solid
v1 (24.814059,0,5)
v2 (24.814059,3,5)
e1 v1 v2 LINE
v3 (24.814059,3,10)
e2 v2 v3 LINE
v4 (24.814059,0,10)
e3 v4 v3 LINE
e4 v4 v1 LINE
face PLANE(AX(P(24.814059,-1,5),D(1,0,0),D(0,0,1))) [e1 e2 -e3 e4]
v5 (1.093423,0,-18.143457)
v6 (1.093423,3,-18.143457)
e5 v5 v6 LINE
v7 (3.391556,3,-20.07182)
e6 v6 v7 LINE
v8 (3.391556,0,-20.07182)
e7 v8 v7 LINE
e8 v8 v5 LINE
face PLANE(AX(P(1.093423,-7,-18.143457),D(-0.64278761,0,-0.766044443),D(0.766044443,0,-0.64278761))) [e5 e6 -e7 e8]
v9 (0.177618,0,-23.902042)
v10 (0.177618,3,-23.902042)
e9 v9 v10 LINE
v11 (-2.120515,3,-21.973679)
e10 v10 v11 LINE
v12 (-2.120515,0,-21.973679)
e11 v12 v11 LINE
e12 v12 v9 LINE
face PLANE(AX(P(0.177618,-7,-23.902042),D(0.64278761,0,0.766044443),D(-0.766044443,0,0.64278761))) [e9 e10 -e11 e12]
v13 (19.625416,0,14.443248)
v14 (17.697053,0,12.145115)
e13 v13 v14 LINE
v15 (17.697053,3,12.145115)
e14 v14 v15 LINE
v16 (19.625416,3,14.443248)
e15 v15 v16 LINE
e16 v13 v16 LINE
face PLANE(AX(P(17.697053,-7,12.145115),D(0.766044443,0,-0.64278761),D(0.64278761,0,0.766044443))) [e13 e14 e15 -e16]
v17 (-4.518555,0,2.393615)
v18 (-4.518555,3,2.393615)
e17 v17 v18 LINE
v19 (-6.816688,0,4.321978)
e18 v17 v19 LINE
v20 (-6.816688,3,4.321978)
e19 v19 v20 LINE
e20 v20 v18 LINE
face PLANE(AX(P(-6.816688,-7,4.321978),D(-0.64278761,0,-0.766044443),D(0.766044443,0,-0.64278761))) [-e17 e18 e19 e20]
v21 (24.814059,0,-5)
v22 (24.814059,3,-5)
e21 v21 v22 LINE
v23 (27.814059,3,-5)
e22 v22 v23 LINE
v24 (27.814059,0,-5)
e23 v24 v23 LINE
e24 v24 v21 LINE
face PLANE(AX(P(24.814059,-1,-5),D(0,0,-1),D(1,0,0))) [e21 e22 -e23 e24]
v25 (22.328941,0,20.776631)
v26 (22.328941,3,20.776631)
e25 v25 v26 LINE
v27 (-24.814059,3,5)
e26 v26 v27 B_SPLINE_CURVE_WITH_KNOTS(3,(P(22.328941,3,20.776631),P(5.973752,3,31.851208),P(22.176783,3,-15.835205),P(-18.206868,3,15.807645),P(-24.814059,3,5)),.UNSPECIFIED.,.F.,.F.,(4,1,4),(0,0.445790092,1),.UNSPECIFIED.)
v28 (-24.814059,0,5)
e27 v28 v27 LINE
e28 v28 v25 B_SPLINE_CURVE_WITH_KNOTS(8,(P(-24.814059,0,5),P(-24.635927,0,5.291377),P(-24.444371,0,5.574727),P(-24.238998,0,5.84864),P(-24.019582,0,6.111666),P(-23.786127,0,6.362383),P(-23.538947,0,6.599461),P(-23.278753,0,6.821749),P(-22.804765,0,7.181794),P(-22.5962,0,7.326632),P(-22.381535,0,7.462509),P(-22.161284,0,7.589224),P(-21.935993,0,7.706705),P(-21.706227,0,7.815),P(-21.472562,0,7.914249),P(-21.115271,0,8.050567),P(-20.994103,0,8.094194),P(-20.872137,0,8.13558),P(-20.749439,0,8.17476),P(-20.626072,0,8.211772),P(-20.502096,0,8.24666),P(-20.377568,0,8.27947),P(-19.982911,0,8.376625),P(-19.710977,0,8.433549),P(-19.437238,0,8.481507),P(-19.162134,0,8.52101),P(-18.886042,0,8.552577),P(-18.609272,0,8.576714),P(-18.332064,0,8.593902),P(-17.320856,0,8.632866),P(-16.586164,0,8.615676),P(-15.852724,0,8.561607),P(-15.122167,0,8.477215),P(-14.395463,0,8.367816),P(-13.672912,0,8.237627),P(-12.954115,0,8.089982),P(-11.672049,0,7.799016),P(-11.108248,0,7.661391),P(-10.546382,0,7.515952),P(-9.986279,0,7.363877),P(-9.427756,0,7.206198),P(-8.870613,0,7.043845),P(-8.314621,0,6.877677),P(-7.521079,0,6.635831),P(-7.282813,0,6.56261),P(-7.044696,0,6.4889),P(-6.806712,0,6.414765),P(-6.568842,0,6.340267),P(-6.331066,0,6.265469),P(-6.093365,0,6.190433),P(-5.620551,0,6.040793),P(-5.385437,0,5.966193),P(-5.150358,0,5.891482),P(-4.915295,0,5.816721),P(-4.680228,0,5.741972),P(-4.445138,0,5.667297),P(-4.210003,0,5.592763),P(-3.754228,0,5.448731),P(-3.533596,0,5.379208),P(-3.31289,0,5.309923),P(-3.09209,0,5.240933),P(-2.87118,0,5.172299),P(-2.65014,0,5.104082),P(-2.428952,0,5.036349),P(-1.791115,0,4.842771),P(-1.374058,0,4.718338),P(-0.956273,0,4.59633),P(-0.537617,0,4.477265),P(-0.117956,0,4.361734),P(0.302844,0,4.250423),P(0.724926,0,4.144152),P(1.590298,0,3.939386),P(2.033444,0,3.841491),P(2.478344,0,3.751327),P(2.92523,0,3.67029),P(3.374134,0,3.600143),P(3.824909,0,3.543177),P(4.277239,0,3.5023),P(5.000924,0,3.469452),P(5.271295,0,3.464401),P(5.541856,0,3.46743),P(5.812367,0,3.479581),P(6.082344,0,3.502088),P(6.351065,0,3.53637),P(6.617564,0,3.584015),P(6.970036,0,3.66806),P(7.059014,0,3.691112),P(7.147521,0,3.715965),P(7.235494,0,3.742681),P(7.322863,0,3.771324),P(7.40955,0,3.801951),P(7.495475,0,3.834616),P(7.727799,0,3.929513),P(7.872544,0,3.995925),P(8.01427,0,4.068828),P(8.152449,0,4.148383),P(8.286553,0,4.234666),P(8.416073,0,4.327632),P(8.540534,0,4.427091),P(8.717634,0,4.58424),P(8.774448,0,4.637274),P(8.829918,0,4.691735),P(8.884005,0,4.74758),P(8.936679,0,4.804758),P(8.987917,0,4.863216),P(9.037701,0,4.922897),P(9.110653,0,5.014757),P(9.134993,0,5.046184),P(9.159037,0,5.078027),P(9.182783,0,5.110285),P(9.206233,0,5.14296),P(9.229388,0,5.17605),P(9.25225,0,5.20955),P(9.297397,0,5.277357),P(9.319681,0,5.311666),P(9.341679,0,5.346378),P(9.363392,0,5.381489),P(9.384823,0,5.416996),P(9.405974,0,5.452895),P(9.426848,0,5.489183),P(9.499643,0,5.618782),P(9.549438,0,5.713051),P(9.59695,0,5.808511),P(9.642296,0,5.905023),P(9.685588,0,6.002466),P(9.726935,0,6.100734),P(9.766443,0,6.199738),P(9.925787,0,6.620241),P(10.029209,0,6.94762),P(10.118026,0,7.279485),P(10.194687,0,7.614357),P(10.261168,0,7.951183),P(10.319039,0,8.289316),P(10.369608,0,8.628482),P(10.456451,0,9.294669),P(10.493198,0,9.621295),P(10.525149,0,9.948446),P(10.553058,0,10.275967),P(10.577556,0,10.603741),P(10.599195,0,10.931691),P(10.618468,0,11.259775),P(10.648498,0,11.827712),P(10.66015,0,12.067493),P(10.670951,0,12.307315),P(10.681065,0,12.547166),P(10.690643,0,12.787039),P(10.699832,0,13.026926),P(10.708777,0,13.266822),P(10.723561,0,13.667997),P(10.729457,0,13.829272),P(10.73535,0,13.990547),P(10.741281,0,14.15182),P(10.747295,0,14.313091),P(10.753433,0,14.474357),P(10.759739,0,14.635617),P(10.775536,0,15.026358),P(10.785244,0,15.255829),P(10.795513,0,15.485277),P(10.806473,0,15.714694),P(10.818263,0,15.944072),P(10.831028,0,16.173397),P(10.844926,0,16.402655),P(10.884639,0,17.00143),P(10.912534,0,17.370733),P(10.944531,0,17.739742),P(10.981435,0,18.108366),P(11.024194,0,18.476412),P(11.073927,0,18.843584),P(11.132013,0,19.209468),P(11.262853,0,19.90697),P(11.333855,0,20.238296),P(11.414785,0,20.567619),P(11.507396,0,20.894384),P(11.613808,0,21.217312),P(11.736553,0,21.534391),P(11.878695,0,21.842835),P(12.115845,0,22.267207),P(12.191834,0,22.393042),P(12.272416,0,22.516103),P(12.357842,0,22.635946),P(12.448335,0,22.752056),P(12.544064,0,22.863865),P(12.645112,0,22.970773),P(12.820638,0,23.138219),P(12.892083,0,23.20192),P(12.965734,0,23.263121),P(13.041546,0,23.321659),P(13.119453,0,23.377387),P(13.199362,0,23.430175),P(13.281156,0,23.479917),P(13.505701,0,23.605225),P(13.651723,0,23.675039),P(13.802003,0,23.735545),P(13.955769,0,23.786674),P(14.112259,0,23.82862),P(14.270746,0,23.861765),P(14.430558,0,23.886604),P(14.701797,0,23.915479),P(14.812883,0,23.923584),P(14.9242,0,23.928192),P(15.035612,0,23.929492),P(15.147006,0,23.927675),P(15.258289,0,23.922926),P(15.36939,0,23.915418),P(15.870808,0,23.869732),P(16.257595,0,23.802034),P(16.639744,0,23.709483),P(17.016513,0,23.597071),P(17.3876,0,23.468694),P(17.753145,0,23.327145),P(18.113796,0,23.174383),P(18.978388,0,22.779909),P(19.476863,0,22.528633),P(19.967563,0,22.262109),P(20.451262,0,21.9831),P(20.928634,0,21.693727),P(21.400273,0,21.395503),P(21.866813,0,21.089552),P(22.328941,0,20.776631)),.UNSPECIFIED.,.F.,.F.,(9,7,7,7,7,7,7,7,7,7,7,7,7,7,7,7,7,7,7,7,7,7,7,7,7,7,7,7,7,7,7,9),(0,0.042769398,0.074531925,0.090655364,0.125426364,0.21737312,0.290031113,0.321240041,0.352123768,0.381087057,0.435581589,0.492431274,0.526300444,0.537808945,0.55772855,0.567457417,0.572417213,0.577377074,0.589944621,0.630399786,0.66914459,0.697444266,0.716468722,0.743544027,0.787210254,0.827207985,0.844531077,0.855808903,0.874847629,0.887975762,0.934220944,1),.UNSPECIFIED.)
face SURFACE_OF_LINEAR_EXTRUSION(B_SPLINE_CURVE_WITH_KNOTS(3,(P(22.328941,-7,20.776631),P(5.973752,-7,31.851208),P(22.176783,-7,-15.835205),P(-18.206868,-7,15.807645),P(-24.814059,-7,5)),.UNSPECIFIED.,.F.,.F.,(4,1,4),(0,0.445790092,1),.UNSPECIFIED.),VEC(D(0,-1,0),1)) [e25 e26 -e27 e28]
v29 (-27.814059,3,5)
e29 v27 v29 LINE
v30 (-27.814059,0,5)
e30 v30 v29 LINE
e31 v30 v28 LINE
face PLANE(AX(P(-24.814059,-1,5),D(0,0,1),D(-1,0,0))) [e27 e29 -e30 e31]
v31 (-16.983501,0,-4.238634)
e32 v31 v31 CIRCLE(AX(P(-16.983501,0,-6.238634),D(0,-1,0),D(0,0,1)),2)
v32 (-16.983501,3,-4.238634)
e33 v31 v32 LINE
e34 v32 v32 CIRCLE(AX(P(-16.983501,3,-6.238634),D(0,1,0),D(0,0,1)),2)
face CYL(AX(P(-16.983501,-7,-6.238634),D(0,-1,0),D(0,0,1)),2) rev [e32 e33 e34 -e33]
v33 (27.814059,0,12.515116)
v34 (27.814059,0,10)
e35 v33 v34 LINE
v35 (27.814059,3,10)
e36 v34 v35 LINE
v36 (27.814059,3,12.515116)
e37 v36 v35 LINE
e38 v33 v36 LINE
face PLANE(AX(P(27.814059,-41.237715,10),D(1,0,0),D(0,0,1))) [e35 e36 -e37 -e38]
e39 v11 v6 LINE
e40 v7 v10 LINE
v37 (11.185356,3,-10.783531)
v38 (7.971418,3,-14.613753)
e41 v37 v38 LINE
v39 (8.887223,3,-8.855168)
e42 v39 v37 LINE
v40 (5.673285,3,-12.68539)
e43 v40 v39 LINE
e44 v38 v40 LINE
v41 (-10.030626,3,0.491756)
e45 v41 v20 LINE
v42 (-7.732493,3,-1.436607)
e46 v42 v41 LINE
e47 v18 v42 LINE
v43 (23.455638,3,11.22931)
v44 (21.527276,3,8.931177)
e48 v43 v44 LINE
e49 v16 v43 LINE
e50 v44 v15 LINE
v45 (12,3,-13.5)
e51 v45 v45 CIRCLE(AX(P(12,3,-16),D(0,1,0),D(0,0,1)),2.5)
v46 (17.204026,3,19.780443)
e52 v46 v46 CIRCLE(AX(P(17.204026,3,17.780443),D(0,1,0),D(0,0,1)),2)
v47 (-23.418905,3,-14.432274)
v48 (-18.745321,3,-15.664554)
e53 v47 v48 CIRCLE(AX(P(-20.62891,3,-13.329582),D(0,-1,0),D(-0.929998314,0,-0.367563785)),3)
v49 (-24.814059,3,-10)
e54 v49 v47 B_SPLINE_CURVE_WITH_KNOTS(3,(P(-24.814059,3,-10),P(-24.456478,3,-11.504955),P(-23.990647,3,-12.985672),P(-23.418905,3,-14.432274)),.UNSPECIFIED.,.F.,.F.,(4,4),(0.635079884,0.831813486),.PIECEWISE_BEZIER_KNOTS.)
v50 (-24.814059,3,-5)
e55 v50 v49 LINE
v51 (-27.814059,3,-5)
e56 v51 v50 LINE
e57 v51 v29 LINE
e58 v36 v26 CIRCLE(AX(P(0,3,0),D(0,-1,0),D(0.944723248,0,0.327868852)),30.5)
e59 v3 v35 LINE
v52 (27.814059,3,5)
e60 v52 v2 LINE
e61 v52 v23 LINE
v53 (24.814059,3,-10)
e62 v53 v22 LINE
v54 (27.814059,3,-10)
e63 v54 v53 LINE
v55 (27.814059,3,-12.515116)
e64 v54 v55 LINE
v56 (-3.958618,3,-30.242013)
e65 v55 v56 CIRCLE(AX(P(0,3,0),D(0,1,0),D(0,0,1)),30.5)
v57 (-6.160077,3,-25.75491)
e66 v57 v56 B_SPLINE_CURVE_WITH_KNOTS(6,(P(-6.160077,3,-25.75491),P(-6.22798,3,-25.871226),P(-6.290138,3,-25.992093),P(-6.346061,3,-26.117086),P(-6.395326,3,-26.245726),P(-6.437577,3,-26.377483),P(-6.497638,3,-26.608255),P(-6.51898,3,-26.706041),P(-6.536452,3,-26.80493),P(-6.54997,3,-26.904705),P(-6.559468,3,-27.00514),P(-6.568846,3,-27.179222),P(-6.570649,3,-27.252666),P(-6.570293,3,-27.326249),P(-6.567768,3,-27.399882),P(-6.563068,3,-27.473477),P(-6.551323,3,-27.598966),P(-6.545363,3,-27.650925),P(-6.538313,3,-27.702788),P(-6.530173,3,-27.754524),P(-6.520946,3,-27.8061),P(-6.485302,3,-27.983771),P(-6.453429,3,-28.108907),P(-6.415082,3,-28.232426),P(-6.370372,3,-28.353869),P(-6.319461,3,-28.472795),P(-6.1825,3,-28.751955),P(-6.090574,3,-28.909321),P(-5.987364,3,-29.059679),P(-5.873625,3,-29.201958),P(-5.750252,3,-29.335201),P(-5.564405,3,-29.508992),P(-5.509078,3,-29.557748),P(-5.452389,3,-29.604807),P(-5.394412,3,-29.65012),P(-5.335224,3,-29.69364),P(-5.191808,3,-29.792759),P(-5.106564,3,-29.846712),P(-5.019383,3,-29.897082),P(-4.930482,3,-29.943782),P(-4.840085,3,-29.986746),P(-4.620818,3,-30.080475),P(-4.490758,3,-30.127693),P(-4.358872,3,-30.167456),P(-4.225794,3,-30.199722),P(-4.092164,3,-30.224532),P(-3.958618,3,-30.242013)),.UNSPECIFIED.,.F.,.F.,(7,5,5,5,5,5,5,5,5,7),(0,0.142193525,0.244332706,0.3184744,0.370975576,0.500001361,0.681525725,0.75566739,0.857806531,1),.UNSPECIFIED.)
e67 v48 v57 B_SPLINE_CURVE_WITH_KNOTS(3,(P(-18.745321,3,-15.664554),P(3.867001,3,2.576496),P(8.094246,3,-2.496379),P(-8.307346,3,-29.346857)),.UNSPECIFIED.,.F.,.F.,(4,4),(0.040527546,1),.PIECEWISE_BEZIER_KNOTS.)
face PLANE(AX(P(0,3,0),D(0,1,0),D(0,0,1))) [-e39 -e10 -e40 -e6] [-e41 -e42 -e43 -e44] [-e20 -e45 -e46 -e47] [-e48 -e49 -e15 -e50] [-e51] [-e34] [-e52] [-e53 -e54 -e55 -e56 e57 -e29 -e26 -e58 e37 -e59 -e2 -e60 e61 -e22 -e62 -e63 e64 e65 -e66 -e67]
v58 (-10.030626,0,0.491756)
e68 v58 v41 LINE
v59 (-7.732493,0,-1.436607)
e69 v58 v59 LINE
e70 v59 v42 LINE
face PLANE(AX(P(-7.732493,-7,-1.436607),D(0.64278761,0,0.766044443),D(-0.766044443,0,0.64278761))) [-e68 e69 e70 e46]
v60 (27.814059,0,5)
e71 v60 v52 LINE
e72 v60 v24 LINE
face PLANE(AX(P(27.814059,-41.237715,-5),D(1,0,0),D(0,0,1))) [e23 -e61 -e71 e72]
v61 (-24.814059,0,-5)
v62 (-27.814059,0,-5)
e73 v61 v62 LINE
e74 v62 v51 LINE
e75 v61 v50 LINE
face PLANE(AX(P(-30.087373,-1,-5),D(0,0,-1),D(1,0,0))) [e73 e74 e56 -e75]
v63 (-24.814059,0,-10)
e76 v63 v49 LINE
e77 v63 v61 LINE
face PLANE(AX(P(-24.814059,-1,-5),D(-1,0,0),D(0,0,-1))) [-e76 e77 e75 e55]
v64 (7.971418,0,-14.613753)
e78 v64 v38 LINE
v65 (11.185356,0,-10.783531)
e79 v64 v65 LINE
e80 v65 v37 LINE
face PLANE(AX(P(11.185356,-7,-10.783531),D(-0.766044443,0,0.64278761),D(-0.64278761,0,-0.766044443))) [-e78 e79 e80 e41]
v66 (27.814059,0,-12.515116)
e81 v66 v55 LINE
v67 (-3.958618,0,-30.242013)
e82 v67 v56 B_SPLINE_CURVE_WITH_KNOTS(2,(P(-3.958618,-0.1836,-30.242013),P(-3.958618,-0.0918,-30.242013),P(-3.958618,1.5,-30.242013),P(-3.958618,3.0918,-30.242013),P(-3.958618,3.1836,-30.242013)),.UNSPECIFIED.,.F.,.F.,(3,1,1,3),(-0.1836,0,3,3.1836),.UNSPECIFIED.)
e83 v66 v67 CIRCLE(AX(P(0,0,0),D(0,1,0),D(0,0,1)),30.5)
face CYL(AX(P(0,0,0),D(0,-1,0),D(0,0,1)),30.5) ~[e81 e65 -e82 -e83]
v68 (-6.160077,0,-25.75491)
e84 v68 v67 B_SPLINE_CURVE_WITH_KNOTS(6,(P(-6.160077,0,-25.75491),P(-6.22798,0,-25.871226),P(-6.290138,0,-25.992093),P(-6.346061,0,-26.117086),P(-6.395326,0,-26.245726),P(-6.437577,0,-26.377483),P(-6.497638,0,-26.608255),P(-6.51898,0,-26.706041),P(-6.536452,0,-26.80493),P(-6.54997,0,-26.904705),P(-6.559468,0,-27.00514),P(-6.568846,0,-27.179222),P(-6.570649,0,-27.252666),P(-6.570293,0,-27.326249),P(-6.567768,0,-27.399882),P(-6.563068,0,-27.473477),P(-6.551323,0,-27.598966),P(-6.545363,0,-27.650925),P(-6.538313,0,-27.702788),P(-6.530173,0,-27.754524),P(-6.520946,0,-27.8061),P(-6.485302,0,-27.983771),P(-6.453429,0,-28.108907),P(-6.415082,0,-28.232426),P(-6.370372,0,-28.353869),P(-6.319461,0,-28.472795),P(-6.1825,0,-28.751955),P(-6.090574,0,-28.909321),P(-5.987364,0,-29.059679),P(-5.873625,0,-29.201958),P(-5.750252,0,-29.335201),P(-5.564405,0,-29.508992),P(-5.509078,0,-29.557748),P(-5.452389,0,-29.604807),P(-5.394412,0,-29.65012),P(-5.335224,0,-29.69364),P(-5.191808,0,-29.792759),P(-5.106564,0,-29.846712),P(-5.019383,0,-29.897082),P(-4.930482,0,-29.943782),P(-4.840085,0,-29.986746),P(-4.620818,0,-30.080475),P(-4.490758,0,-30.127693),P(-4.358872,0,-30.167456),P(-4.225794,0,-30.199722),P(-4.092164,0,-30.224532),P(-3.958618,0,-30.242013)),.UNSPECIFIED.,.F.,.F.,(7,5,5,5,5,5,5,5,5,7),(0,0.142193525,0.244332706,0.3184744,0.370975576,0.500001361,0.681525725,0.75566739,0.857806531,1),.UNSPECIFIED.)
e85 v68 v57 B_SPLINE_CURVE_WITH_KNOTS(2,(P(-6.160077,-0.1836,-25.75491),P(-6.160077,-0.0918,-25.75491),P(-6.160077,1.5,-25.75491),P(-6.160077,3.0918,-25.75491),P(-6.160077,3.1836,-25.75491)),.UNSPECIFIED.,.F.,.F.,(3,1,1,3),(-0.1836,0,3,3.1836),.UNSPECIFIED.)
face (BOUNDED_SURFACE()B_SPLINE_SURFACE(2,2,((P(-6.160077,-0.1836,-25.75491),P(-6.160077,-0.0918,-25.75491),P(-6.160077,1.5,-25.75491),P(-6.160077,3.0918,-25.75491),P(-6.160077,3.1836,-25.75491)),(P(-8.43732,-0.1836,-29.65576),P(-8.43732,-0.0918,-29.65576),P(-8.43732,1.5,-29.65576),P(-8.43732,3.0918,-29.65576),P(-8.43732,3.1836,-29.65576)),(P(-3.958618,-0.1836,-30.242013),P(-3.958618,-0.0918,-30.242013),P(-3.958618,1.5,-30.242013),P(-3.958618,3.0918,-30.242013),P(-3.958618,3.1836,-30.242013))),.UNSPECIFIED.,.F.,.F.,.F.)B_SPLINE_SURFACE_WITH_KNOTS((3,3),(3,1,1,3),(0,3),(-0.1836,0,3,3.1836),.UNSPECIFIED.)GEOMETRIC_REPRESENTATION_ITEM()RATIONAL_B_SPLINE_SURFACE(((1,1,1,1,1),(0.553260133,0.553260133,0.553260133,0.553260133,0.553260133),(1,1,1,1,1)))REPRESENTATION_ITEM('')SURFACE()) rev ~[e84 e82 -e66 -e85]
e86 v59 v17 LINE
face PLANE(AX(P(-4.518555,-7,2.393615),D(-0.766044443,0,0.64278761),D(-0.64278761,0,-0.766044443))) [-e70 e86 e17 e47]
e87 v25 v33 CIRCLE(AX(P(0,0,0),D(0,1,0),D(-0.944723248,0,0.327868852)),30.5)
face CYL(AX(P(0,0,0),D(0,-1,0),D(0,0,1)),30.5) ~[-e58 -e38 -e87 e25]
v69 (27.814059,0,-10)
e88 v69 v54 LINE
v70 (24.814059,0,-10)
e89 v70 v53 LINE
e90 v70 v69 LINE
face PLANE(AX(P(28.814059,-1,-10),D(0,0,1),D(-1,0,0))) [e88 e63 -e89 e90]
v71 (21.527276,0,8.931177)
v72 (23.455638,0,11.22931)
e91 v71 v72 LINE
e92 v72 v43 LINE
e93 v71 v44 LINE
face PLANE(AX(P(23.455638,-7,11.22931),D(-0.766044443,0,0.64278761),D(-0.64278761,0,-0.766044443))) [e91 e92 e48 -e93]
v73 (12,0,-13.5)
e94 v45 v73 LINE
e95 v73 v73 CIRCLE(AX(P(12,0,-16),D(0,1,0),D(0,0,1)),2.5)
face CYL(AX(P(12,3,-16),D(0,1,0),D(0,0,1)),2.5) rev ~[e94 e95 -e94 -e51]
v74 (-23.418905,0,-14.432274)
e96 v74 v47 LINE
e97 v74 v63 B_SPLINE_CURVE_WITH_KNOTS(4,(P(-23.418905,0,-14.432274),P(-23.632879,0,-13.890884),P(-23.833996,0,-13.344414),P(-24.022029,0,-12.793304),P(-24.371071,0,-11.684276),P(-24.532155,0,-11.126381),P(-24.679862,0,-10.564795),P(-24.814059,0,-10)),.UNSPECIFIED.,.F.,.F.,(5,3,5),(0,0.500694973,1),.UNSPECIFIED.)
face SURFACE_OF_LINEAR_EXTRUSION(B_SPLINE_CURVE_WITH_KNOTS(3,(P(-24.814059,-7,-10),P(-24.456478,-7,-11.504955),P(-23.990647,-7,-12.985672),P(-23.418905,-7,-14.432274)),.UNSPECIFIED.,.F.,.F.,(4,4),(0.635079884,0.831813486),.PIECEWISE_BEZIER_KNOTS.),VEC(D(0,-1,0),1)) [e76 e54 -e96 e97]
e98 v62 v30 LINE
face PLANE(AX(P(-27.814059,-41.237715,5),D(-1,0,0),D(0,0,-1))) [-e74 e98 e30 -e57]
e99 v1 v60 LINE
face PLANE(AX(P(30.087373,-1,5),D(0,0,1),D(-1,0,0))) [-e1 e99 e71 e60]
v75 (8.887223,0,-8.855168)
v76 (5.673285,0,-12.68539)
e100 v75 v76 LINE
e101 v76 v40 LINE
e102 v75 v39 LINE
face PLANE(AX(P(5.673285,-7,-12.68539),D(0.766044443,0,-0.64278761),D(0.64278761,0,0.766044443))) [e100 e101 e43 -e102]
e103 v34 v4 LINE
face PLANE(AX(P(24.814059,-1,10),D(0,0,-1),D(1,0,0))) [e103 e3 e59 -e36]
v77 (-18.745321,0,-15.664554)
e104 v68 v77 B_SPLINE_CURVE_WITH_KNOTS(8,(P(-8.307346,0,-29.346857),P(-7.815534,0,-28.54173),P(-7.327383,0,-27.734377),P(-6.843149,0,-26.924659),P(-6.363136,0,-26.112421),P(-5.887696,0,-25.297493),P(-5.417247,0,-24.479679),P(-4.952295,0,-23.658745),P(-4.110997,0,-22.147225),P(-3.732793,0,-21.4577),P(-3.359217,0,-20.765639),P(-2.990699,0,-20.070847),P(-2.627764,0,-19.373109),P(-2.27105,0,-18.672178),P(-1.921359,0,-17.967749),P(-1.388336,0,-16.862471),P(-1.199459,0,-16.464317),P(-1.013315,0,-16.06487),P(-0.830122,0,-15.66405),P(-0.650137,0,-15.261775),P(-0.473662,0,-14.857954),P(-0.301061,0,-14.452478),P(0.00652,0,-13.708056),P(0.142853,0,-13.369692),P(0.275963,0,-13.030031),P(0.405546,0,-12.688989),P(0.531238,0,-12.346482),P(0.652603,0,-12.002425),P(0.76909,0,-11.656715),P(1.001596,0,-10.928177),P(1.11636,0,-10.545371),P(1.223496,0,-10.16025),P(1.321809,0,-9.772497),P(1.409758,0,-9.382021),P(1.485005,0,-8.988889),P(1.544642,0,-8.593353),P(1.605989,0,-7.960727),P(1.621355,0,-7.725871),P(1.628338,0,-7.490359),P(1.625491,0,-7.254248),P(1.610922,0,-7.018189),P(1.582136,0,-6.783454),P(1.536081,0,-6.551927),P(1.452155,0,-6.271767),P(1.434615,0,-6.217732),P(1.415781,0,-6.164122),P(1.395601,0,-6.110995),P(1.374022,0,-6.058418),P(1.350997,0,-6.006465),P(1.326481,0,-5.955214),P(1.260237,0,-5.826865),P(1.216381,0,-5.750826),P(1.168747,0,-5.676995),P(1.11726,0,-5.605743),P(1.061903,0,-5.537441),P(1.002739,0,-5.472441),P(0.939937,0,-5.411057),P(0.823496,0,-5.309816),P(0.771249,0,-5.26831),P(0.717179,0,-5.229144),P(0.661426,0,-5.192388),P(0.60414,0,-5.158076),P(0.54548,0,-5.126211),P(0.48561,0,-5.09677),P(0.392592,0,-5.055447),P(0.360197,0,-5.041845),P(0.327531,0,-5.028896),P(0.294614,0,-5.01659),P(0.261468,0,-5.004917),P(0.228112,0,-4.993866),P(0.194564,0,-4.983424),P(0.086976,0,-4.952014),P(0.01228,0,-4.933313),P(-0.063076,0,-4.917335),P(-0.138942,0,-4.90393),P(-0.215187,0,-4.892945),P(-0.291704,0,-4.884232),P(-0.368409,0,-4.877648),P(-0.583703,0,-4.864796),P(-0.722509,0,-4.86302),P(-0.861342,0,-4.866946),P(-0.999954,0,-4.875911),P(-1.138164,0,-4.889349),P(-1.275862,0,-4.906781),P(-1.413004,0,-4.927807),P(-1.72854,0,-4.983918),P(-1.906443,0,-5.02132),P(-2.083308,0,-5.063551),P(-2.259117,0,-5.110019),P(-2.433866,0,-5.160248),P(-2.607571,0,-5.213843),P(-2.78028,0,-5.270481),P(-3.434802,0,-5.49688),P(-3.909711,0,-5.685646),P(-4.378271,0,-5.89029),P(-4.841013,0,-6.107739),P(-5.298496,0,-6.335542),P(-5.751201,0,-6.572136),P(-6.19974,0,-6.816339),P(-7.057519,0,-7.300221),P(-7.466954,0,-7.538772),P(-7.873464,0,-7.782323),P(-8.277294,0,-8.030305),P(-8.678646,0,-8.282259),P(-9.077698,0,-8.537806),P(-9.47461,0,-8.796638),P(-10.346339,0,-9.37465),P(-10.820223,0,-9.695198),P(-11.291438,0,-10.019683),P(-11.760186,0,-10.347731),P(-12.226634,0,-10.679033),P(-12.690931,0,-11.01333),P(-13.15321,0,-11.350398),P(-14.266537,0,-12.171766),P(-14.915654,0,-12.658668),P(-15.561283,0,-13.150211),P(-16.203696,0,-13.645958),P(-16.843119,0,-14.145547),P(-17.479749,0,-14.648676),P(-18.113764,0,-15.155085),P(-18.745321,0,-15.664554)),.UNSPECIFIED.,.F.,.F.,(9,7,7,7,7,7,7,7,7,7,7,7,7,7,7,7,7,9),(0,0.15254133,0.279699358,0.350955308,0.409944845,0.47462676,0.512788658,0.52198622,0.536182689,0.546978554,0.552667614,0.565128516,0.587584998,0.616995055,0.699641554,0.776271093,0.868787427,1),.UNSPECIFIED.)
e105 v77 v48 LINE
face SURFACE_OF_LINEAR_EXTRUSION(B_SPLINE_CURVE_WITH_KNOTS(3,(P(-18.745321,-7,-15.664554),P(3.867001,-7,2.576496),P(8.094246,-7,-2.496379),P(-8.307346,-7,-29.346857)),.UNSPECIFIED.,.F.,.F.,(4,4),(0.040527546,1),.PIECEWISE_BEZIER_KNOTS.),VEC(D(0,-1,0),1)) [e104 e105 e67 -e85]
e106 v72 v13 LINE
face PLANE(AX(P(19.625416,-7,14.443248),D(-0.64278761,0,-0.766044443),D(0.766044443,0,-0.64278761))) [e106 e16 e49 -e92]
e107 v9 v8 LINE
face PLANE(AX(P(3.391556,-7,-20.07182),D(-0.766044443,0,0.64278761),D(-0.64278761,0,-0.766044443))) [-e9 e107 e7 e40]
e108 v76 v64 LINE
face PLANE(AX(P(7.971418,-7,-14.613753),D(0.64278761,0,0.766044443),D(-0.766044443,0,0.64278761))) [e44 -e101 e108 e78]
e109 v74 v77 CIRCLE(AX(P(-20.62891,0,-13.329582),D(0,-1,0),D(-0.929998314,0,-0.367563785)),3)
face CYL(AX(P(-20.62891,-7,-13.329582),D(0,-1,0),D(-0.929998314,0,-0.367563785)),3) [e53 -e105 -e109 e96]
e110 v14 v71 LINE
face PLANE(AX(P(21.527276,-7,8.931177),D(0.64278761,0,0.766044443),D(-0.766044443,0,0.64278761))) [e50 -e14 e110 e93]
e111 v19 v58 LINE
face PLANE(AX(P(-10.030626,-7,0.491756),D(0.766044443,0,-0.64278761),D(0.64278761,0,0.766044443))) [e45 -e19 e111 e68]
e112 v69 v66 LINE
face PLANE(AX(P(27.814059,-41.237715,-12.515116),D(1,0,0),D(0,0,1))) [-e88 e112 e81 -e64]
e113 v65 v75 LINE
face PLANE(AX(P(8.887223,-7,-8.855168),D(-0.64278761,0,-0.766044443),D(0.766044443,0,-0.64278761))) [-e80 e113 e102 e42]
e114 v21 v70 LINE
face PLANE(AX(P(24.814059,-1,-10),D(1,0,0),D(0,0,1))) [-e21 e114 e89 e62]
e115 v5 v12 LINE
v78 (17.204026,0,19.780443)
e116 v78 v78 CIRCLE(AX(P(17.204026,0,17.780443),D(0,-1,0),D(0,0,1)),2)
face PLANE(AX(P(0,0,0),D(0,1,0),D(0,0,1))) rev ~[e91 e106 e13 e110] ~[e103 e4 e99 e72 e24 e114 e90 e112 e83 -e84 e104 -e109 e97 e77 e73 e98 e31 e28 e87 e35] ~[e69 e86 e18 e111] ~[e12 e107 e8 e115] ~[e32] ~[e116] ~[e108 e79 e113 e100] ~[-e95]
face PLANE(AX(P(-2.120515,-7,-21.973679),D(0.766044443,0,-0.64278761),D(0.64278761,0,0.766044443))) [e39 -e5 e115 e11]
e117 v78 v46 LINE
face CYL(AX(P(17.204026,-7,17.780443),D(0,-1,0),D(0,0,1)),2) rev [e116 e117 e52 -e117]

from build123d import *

# Parameters (mm, degrees)
CROQUIS1_R                 = 30.5
SALIENTE_EXTRUIR1_DEPTH    = 3
CORTAR_EXTRUIR3_START      = -4
CORTAR_EXTRUIR3_DEPTH      = 4
CORTAR_EXTRUIR6_START      = -10
CROQUIS9_R                 = 2
CORTAR_EXTRUIR6_DEPTH      = 10
REDONDEO1_R                = 3
CROQUIS10_R                = 2.5
CORTAR_EXTRUIR7_DEPTH      = 10
CORTAR_EXTRUIR8_DEPTH      = 44.237715166
CORTAR_EXTRUIR8_DEPTH_BACK = 44.237715166


with BuildPart() as part:
    # Croquis1 → Saliente-Extruir1 (new body)
    with BuildSketch(Plane(origin=(0, 0, 0), x_dir=(1, 0, 0), z_dir=(0, 1, 0))):
        with Locations(Location((0, 0, 0), (0, 0, 270))):
            Circle(CROQUIS1_R)
    extrude(amount=SALIENTE_EXTRUIR1_DEPTH)

    # Croquis5 → Cortar-Extruir3 (cut)
    with BuildSketch(Plane(origin=(0, 3, 0), x_dir=(1, 0, 0), z_dir=(0, 1, 0)).offset(CORTAR_EXTRUIR3_START)):
        with BuildLine():
            Line((28.814059068, 5), (30.087372767, 5))
            ThreePointArc((30.087372767, 5), (29.556634924, 7.526973624), (28.814059068, 10))
            Line((28.814059068, 10), (24.814059068, 10))
            Line((24.814059068, 10), (24.814059068, 5))
            Line((24.814059068, 5), (28.814059068, 5))
        make_face()
        with BuildLine():
            Line((30.087372767, -5), (28.814059068, -5))
            Line((28.814059068, -5), (24.814059068, -5))
            Line((24.814059068, -5), (24.814059068, -10))
            Line((24.814059068, -10), (28.814059068, -10))
            ThreePointArc((28.814059068, -10), (29.556634924, -7.526973624), (30.087372767, -5))
        make_face()
        with BuildLine():
            Line((-24.814059068, 5), (-24.814059068, 10))
            Line((-24.814059068, 10), (-28.814059068, 10))
            ThreePointArc((-28.814059068, 10), (-29.556634924, 7.526973624), (-30.087372767, 5))
            Line((-30.087372767, 5), (-28.814059068, 5))
            Line((-28.814059068, 5), (-24.814059068, 5))
        make_face()
        with BuildLine():
            Line((-28.814059068, -10), (-24.814059068, -10))
            Line((-24.814059068, -10), (-24.814059068, -5))
            Line((-24.814059068, -5), (-28.814059068, -5))
            Line((-28.814059068, -5), (-30.087372767, -5))
            ThreePointArc((-30.087372767, -5), (-29.556634924, -7.526973624), (-28.814059068, -10))
        make_face()
    extrude(amount=CORTAR_EXTRUIR3_DEPTH, mode=Mode.SUBTRACT)

    # Croquis9 → Cortar-Extruir6 (cut)
    with BuildSketch(Plane(origin=(0, 3, 0), x_dir=(1, 0, 0), z_dir=(0, 1, 0)).offset(CORTAR_EXTRUIR6_START)):
        Polygon((5.673284852, 12.685390231), (8.887222901, 8.855168016), (11.18535623, 10.783530845), (7.971418181, 14.613753061), align=None)
        with BuildLine():
            add(Edge.make_bspline(
                [(22.328940845, -20.776631121), (5.973751648, -31.851207958), (22.176782581, 15.835204965), (-18.206868011, -15.807645224), (-24.814059068, -5)],
                knots=[0, 0, 0, 0, 0.445790092, 1, 1, 1, 1], degree=3))
            Line((-24.814059068, -5), (-24.814059068, -10))
            Line((-24.814059068, -10), (-28.814059068, -10))
            ThreePointArc((-28.814059068, -10), (-6.288730728, -29.84462876), (22.328940845, -20.776631121))
        make_face()
        with BuildLine():
            add(Edge.make_bspline(
                [(-18.745320889, 15.664553597), (3.867000935, -2.576496257), (8.094246487, 2.496379136), (-8.307345659, 29.346856869)],
                knots=[0.040527546, 0.040527546, 0.040527546, 0.040527546, 1, 1, 1, 1], degree=3))
            ThreePointArc((-8.307345659, 29.346856869), (-20.930238649, 22.185019948), (-28.814059068, 10))
            Line((-28.814059068, 10), (-24.814059068, 10))
            add(Edge.make_bspline(
                [(-24.814059068, 10), (-24.456478323, 11.504954743), (-23.99064654, 12.985671633), (-23.418905183, 14.432273611)],
                knots=[0.635079884, 0.635079884, 0.635079884, 0.635079884, 0.831813486, 0.831813486, 0.831813486, 0.831813486], degree=3))
            ThreePointArc((-23.418905183, 14.432273611), (-21.393777069, 16.230440533), (-18.745320889, 15.664553597))
        make_face()
        Polygon((-2.120514915, 21.973679104), (1.093423133, 18.143456889), (3.391556462, 20.071819718), (0.177618414, 23.902041933), align=None)
        Polygon((-4.518554854, -2.393615154), (-7.732492903, 1.436607062), (-10.030626232, -0.491755767), (-6.816688183, -4.321977983), align=None)
        Polygon((23.455638465, -11.229310268), (21.527275636, -8.931176939), (17.69705342, -12.145114987), (19.625416249, -14.443248317), align=None)
        with Locations(Location((-16.983501418, 6.238634388, 0), (0, 0, 270))):
            Circle(CROQUIS9_R)
        with Locations(Location((17.204026086, -17.780443199, 0), (0, 0, 270))):
            Circle(CROQUIS9_R)
    extrude(amount=CORTAR_EXTRUIR6_DEPTH, mode=Mode.SUBTRACT)

    # Redondeo1
    redondeo1_edges = [part.edges().sort_by_distance(p)[0] for p in [
        (-8.307345659, 1.5, -29.346856869),
    ]]
    fillet(redondeo1_edges, radius=REDONDEO1_R)

    # Croquis10 → Cortar-Extruir7 (cut)
    with BuildSketch(Plane(origin=(0, 3, 0), x_dir=(1, 0, 0), z_dir=(0, 1, 0))):
        with Locations(Location((12, 16, 0), (0, 0, 270))):
            Circle(CROQUIS10_R)
    extrude(amount=-CORTAR_EXTRUIR7_DEPTH, mode=Mode.SUBTRACT)

    # Croquis11 → Cortar-Extruir8 (cut, two sides: drawn at the far end of the back side and taken through both)
    with BuildSketch(Plane(origin=(0, 3, 0), x_dir=(1, 0, 0), z_dir=(0, 1, 0)).offset(-CORTAR_EXTRUIR8_DEPTH_BACK)):
        with BuildLine():
            Line((30.087372767, 5), (27.814059068, 5))
            Line((27.814059068, 5), (27.814059068, -5))
            Line((27.814059068, -5), (30.087372767, -5))
            ThreePointArc((30.087372767, -5), (30.5, 0), (30.087372767, 5))
        make_face()
        with BuildLine():
            Line((28.814059068, -10), (27.814059068, -10))
            Line((27.814059068, -10), (27.814059068, -12.515115586))
            ThreePointArc((27.814059068, -12.515115586), (28.341972277, -11.268655974), (28.814059068, -10))
        make_face()
        with BuildLine():
            Line((27.814059068, 12.515115586), (27.814059068, 10))
            Line((27.814059068, 10), (28.814059068, 10))
            ThreePointArc((28.814059068, 10), (28.341972277, 11.268655974), (27.814059068, 12.515115586))
        make_face()
        with BuildLine():
            Line((-27.814059068, -5), (-27.814059068, 5))
            Line((-27.814059068, 5), (-30.087372767, 5))
            ThreePointArc((-30.087372767, 5), (-30.5, 0), (-30.087372767, -5))
            Line((-30.087372767, -5), (-27.814059068, -5))
        make_face()
    extrude(amount=CORTAR_EXTRUIR8_DEPTH + CORTAR_EXTRUIR8_DEPTH_BACK, mode=Mode.SUBTRACT)


solid = part.part
